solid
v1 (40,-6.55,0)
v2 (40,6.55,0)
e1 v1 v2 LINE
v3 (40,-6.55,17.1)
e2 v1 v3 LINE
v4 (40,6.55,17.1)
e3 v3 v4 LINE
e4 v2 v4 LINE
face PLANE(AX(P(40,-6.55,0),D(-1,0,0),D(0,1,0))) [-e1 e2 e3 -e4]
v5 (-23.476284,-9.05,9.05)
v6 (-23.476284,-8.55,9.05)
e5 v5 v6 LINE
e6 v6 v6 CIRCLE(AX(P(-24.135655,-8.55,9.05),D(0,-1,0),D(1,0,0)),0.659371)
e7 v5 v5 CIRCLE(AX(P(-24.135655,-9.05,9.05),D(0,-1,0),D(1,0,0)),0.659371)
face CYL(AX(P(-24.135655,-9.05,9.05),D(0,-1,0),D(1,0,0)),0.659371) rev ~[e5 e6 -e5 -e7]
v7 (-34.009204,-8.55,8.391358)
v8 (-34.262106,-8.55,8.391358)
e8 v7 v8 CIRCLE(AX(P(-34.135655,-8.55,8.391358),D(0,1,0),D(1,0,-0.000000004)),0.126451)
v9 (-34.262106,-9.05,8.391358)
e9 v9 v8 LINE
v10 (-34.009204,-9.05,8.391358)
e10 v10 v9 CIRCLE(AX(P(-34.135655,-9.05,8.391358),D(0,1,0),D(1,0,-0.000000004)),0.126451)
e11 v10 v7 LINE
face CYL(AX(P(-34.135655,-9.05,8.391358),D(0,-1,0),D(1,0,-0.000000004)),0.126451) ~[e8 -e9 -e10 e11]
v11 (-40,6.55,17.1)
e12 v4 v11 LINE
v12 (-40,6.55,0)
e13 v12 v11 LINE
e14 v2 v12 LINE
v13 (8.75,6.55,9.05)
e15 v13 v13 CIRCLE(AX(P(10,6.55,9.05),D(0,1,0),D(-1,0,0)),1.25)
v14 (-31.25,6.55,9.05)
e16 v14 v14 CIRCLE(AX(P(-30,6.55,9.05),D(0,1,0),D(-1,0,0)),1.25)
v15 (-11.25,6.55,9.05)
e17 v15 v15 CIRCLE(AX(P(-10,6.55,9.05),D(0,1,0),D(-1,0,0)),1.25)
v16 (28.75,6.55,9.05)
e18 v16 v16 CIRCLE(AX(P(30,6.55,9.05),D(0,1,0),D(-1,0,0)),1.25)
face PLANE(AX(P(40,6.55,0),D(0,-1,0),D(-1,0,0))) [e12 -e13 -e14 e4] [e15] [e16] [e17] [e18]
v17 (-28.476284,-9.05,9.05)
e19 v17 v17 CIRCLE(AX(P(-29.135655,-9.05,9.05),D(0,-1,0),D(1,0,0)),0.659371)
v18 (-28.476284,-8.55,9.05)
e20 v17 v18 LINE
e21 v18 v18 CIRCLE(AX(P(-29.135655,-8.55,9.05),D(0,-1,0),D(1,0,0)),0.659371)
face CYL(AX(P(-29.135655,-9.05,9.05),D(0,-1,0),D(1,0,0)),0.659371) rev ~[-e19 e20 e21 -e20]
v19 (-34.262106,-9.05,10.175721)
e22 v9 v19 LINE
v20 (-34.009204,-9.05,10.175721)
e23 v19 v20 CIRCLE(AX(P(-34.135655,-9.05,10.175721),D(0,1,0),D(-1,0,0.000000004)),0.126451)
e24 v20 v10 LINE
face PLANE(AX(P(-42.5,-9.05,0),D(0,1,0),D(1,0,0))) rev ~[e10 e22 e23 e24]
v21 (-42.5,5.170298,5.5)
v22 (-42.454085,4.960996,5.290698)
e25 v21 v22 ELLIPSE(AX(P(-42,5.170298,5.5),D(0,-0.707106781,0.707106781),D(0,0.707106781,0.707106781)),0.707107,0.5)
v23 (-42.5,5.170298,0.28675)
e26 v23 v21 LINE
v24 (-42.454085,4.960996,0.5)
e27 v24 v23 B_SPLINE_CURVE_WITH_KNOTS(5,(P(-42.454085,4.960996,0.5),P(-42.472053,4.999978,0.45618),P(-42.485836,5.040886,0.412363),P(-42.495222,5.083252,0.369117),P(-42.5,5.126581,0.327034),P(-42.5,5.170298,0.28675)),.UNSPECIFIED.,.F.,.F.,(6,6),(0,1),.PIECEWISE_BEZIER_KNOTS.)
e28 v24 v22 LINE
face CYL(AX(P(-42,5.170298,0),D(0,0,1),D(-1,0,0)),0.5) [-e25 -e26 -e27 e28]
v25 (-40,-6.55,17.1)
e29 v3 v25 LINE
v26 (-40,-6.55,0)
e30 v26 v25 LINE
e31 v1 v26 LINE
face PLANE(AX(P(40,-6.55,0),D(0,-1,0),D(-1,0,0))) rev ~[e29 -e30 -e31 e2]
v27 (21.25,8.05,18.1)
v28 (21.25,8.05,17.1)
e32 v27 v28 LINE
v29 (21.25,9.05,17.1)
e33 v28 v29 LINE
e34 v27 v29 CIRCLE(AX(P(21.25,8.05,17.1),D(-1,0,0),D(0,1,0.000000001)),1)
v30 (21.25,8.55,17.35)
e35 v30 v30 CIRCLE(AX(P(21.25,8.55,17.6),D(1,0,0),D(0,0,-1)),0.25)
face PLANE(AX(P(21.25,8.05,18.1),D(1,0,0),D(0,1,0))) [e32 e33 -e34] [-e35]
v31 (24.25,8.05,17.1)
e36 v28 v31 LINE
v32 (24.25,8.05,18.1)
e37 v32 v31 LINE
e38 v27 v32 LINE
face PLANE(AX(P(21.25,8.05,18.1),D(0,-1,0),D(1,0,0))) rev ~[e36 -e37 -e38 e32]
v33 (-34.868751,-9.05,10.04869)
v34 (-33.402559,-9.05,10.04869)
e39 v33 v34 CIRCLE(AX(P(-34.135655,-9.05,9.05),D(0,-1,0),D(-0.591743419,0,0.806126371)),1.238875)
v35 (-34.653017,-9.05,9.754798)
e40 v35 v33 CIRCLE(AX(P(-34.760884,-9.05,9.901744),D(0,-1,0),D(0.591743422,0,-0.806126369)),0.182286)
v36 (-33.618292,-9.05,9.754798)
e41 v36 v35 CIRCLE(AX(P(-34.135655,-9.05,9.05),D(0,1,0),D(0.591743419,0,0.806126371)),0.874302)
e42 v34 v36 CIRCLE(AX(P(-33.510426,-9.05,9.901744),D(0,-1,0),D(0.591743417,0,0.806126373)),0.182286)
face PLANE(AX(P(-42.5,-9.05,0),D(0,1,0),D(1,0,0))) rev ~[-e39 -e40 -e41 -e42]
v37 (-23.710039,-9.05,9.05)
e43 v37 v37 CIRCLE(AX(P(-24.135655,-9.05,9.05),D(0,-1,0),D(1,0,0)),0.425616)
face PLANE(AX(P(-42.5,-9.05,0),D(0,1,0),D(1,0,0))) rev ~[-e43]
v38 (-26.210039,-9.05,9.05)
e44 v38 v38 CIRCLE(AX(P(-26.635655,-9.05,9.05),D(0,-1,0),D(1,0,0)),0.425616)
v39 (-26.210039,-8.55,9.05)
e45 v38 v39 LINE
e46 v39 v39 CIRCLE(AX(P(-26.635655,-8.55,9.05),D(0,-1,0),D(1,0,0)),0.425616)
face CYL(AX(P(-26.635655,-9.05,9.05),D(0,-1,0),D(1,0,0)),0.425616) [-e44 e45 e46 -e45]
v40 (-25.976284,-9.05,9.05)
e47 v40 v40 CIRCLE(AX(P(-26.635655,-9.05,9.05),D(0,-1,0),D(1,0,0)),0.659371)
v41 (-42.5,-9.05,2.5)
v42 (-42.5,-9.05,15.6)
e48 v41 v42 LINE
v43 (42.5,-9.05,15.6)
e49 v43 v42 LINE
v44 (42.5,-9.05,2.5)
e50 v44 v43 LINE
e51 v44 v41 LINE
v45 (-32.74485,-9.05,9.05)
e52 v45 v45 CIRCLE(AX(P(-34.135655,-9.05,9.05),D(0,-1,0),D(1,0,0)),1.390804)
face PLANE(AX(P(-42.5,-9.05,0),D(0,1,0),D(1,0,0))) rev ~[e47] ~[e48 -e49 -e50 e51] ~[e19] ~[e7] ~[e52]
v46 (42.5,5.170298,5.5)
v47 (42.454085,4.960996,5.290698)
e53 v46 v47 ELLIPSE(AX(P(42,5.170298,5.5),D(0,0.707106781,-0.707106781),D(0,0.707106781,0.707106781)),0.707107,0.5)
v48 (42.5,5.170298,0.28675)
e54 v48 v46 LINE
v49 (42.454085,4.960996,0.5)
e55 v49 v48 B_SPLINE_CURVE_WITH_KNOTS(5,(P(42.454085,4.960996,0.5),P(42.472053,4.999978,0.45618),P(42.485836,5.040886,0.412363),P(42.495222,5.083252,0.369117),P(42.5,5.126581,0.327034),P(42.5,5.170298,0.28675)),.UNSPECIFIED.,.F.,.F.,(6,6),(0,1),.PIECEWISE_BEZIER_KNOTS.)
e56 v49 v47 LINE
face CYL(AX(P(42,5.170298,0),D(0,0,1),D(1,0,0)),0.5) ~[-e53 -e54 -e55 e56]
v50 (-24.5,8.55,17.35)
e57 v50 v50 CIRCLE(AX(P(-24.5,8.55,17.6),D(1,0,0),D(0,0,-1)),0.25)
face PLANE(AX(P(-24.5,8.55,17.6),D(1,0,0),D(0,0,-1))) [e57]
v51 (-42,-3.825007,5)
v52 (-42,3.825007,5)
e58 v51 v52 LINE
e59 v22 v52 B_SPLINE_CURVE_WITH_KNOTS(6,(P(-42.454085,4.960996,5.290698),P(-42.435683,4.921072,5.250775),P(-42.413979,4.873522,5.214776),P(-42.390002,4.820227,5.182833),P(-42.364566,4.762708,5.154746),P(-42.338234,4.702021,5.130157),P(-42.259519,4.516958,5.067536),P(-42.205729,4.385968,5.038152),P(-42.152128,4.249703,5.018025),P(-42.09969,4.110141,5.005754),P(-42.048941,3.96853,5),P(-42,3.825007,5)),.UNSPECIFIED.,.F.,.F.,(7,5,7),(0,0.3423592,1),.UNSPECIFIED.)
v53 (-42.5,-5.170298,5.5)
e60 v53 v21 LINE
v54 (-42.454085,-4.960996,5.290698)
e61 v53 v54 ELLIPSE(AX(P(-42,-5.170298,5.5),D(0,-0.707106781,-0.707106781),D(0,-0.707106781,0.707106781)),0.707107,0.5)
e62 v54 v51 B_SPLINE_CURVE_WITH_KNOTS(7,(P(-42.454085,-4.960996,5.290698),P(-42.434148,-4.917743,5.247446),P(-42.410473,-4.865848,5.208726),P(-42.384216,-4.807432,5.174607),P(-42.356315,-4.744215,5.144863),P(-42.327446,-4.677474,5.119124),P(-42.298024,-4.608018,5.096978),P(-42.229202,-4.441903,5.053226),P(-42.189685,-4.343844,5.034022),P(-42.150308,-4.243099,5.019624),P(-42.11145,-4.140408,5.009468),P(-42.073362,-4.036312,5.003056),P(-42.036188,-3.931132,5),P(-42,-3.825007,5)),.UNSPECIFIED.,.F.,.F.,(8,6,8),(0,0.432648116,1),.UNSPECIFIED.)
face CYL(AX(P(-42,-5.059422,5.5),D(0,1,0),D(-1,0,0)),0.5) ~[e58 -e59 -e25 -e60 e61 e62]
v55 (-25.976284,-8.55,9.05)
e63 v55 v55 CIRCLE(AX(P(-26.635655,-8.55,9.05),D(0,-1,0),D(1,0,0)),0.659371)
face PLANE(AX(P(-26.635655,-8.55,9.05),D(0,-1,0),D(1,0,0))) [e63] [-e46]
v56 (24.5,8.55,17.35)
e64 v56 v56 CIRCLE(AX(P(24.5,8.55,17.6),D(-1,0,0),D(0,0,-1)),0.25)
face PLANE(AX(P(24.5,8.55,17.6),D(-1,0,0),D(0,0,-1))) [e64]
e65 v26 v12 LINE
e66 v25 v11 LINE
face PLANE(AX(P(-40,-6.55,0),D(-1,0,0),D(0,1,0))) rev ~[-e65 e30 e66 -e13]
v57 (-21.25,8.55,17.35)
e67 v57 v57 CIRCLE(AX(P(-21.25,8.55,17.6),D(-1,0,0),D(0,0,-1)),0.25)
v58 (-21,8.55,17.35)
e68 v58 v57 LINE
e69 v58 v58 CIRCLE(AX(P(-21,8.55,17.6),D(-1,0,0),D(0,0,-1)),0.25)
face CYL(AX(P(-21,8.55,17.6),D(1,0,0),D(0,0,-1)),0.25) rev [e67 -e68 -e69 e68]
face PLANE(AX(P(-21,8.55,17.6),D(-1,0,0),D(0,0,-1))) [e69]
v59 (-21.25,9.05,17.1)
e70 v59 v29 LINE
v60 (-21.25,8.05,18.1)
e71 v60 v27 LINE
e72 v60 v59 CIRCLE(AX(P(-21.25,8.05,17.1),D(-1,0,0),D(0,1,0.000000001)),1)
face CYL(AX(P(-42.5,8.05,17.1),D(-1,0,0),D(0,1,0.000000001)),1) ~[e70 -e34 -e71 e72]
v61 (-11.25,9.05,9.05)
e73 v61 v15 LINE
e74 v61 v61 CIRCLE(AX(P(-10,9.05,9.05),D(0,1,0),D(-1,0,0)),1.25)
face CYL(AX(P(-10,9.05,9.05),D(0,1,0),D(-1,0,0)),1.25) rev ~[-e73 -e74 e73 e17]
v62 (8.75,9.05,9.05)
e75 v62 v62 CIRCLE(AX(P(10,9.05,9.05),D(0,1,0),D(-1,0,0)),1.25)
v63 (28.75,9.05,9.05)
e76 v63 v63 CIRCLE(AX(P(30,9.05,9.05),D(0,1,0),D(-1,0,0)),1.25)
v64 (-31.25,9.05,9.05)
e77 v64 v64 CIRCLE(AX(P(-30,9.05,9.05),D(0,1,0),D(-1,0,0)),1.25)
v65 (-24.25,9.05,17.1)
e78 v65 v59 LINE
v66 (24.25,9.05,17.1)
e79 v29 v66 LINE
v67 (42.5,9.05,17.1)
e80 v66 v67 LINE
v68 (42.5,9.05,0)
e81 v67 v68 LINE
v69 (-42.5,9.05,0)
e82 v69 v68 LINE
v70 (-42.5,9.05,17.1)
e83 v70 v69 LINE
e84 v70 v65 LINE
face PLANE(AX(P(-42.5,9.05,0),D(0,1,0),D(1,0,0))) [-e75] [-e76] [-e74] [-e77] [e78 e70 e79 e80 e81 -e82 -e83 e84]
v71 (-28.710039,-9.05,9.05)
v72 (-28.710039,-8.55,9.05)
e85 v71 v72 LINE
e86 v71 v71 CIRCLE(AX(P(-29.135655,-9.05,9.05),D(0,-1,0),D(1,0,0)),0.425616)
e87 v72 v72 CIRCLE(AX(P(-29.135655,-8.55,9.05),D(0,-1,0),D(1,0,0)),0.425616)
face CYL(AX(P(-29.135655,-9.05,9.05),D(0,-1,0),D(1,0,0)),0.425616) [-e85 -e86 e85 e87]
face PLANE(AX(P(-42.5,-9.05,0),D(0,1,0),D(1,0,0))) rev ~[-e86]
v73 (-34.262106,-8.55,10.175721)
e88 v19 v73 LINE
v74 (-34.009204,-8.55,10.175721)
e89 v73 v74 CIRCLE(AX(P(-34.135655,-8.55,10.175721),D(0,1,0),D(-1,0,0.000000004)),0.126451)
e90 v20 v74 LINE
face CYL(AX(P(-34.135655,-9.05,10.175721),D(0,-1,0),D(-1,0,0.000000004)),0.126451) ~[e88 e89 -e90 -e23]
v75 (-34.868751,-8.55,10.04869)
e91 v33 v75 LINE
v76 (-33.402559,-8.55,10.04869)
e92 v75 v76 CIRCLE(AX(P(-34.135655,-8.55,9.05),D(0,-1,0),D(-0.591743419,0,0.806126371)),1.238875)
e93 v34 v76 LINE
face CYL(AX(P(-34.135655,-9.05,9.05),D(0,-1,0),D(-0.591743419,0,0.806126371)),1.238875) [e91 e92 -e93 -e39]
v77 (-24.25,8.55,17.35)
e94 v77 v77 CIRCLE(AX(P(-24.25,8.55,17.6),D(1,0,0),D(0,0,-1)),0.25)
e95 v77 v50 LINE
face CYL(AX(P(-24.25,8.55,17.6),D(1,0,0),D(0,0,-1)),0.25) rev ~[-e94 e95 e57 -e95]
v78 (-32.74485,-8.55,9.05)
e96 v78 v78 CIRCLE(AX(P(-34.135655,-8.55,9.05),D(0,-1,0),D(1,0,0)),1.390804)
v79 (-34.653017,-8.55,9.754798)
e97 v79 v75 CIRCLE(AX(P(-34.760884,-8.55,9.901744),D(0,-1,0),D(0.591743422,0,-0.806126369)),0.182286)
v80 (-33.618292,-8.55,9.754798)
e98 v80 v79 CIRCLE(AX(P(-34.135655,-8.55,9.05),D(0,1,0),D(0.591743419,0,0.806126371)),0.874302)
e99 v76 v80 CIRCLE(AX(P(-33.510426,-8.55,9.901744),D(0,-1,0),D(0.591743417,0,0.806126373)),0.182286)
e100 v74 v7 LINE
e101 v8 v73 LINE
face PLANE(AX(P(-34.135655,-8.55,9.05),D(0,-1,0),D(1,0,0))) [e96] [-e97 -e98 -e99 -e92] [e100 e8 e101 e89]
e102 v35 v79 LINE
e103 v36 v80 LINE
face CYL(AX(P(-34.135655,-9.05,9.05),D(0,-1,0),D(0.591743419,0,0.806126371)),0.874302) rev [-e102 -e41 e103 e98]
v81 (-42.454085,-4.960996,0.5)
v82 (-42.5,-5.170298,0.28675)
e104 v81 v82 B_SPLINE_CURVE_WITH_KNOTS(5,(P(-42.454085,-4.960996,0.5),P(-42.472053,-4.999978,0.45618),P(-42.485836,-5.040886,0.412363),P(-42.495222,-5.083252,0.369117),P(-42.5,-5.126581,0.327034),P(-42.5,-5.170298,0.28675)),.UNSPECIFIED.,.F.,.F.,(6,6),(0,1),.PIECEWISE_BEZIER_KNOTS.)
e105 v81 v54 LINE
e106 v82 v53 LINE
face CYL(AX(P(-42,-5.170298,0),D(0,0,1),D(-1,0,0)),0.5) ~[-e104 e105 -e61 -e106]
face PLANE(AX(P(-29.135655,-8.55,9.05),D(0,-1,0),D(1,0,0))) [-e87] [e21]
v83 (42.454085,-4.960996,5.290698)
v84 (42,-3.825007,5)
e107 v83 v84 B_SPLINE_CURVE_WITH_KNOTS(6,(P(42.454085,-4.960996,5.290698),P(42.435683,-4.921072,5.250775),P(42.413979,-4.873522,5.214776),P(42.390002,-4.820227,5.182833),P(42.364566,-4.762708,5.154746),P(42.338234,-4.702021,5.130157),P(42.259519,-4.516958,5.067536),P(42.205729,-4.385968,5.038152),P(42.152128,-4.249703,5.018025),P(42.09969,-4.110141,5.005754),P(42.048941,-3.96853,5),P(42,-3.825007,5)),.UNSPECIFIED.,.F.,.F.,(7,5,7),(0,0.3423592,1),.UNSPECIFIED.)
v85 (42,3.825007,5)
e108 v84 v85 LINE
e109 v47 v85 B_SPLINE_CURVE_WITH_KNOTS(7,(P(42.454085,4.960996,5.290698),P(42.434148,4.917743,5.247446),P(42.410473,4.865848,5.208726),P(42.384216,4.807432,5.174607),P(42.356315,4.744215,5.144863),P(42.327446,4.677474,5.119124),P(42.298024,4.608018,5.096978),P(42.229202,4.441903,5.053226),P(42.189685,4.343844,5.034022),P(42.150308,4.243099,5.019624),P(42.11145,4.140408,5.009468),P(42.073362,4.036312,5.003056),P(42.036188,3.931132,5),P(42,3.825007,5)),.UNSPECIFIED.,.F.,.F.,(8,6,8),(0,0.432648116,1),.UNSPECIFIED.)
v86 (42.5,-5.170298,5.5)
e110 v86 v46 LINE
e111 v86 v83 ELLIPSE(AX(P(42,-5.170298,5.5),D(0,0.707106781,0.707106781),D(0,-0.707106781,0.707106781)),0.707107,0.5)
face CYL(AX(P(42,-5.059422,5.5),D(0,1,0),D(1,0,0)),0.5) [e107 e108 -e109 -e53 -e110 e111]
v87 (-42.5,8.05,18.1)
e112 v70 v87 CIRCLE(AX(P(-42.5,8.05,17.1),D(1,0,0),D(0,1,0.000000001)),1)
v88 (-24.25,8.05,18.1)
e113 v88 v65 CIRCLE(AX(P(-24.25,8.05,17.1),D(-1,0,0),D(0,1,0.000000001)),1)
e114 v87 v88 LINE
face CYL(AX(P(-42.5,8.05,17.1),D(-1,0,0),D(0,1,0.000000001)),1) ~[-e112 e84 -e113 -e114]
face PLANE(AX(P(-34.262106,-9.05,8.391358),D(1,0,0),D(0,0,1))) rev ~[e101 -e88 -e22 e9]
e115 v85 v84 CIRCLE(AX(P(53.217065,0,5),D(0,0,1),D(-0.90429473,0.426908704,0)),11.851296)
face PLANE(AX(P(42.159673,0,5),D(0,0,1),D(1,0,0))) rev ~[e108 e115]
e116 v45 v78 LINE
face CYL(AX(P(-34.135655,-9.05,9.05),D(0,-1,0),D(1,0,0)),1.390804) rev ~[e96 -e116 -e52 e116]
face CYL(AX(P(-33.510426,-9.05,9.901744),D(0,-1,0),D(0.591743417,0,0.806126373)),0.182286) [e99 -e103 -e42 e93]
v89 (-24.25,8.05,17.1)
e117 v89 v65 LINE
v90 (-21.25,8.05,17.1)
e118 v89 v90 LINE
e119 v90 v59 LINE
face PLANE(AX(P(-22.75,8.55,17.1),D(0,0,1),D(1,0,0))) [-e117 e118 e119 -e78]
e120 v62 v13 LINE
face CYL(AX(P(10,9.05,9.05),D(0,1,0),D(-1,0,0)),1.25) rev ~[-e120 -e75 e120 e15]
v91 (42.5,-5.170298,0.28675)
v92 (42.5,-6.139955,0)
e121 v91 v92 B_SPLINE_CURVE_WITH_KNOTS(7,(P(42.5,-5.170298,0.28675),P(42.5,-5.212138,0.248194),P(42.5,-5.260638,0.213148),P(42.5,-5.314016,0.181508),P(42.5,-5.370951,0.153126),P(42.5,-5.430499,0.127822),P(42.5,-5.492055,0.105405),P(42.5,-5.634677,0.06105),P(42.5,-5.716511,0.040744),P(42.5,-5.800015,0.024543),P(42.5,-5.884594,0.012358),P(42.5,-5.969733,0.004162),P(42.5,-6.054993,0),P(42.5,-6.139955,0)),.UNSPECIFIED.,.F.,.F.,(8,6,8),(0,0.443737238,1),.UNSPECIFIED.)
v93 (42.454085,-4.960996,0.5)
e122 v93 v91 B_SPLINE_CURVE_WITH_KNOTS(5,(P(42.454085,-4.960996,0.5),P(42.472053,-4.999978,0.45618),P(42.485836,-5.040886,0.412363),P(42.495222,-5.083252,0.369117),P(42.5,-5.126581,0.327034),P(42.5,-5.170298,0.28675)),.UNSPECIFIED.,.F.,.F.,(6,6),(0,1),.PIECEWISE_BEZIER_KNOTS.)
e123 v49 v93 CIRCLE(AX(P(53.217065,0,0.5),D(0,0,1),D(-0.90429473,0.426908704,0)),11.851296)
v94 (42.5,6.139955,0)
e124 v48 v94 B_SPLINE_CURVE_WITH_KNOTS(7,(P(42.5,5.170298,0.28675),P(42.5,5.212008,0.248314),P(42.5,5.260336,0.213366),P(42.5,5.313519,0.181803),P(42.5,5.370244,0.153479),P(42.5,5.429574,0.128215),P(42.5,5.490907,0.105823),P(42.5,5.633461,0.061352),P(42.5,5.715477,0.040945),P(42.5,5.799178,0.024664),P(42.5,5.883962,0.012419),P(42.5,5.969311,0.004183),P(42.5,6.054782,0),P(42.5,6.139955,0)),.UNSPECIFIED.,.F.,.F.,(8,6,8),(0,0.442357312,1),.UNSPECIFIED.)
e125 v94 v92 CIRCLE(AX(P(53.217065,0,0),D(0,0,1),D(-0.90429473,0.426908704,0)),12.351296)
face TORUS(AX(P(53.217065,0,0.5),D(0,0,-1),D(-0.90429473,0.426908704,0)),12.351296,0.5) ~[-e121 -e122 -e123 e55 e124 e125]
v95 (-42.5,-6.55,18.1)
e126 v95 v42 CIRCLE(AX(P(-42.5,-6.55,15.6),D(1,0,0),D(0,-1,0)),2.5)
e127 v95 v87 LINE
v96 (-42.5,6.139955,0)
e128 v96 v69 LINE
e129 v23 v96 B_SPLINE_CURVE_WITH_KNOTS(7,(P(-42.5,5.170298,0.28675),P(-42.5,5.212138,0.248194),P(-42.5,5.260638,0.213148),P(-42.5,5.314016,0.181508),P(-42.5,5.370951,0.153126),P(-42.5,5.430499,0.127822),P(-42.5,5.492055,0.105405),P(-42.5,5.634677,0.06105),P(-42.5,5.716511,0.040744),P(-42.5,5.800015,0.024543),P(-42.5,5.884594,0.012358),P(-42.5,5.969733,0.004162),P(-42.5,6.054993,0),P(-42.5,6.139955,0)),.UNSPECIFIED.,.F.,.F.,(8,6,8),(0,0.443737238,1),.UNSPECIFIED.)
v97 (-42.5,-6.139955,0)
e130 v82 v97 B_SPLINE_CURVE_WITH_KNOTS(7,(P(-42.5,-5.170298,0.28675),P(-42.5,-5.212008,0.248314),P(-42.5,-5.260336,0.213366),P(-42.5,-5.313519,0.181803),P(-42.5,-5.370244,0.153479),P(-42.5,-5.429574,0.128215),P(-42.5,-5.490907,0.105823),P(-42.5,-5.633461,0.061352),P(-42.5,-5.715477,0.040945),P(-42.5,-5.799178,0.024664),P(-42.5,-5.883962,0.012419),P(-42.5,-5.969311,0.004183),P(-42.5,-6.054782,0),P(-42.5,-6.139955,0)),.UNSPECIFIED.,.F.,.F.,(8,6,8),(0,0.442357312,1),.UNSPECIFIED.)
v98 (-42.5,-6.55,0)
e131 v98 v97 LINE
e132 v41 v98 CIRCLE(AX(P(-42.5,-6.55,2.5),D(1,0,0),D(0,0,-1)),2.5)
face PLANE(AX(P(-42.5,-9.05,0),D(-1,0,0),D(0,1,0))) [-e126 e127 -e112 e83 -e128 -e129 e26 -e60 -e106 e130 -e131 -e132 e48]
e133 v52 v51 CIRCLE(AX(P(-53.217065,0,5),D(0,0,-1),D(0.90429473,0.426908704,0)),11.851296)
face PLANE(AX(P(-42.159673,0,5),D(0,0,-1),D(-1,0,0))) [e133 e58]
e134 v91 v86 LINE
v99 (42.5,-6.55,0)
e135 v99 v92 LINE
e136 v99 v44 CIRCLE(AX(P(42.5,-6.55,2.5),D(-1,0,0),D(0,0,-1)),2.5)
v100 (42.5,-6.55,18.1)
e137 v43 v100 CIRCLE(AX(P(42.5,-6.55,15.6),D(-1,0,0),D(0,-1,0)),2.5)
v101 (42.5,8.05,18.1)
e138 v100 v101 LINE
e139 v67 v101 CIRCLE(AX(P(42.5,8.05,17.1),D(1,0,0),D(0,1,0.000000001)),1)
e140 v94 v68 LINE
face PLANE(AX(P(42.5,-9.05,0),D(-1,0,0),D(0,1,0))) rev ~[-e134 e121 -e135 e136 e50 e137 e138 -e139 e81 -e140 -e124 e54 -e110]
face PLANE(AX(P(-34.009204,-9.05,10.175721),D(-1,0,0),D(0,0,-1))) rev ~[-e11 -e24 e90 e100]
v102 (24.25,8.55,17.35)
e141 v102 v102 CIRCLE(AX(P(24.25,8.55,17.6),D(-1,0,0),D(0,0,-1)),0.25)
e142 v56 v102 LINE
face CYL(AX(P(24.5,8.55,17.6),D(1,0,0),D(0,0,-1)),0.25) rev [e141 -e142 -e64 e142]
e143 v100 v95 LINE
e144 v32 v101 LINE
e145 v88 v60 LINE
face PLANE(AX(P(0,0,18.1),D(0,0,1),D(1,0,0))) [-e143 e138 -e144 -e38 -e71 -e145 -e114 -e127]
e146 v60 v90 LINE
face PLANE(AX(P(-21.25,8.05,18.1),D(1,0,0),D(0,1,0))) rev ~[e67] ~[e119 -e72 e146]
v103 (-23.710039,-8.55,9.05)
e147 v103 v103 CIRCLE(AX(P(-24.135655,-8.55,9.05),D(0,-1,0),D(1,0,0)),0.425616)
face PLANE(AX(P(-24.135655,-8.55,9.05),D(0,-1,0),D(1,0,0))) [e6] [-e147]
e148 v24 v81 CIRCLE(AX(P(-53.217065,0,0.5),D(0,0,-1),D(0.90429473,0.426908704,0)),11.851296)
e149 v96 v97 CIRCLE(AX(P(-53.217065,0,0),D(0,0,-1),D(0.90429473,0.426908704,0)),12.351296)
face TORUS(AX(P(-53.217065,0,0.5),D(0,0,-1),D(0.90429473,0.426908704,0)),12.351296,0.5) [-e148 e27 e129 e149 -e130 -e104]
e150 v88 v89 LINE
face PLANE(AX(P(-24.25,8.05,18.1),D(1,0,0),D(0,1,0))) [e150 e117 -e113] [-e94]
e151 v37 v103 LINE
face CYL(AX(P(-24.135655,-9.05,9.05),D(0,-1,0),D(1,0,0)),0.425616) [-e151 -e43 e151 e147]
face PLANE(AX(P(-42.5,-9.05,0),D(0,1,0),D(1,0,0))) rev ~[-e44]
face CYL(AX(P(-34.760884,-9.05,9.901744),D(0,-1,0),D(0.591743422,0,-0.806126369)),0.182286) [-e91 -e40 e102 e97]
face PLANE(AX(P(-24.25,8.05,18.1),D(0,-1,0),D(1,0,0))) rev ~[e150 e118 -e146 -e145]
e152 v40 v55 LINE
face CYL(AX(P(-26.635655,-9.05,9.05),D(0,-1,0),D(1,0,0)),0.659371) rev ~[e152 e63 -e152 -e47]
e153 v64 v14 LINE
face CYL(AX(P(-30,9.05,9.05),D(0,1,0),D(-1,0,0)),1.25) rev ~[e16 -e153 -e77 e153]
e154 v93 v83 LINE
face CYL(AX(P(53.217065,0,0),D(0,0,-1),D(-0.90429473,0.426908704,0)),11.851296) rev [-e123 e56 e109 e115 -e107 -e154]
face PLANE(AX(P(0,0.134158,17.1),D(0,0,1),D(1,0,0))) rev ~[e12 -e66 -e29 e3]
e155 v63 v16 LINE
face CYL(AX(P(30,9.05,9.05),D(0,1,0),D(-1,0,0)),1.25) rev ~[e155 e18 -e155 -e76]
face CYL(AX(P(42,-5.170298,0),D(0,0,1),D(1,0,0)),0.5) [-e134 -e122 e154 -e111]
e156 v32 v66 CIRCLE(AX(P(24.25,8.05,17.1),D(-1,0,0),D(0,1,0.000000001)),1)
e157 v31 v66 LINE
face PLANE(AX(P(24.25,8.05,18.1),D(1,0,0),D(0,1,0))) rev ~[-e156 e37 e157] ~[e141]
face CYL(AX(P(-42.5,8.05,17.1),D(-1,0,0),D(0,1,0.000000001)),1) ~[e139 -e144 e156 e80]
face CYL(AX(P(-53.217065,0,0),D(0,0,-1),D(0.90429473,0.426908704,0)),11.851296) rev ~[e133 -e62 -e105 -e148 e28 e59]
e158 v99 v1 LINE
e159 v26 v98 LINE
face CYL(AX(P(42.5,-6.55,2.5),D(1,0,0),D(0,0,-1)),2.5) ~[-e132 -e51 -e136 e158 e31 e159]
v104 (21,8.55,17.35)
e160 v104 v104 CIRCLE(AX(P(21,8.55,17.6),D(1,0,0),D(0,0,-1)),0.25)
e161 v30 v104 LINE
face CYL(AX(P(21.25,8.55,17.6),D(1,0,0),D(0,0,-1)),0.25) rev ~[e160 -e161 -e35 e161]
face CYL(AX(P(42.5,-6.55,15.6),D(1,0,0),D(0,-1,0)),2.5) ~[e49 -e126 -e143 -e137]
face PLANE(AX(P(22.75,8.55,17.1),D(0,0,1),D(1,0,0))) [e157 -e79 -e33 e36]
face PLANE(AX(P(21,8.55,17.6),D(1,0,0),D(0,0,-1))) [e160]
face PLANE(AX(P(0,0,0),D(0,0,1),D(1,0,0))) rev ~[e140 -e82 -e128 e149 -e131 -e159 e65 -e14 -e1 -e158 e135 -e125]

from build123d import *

# Parameters (mm, degrees)
SKETCH1_W           = 85
SKETCH1_H           = 18.1
BOSS_EXTRUDE1_DEPTH = 18.1
SKETCH2_W           = 80
SKETCH2_H           = 13.1
CUT_EXTRUDE1_DEPTH  = 17.5
SKETCH3_R           = 1.25
CUT_EXTRUDE2_DEPTH  = 2.5
SKETCH4_W           = 3
SKETCH4_H           = 1
CUT_EXTRUDE4_DEPTH  = 1
BOSS_EXTRUDE3_DEPTH = 1
SKETCH5_R           = 0.25
CUT_EXTRUDE5_DEPTH  = 0.25
CUT_EXTRUDE6_START  = -0.25
SKETCH6_R           = 0.25
CUT_EXTRUDE6_DEPTH  = 0.25
CUT_EXTRUDE7_START  = -0.25
SKETCH7_R           = 0.25
CUT_EXTRUDE7_DEPTH  = 0.25
SKETCH8_R           = 0.25
CUT_EXTRUDE8_DEPTH  = 0.25
CUT_EXTRUDE9_REACH  = 89.376
SKETCH13_R          = 1.390804474
SKETCH13_R_2        = 0.659370612
SKETCH13_R_3        = 0.42561601
CUT_EXTRUDE10_DEPTH = 0.5
CUT_EXTRUDE11_DEPTH = 5
FILLET1_R           = 0.5
CUT_EXTRUDE12_START = -85
CUT_EXTRUDE12_DEPTH = 85


with BuildPart() as part:
    # Sketch1 → Boss-Extrude1 (new body)
    with BuildSketch(Plane.XY):
        Rectangle(SKETCH1_W, SKETCH1_H)
    extrude(amount=BOSS_EXTRUDE1_DEPTH)

    # Sketch2 → Cut-Extrude1 (cut)
    with BuildSketch(Plane(origin=(0, 0, 0), x_dir=(-1, 0, 0), z_dir=(0, 0, -1))):
        Rectangle(SKETCH2_W, SKETCH2_H)
    extrude(amount=-CUT_EXTRUDE1_DEPTH, mode=Mode.SUBTRACT)

    # Sketch3 → Cut-Extrude2 (cut)
    with BuildSketch(Plane(origin=(0, 9.05, 0), x_dir=(1, 0, 0), z_dir=(0, 1, 0))):
        with Locations(Location((-30, -9.05, 0), (0, 0, 180))):
            Circle(SKETCH3_R)
        with Locations(Location((-10, -9.05, 0), (0, 0, 180))):
            Circle(SKETCH3_R)
        with Locations(Location((10, -9.05, 0), (0, 0, 180))):
            Circle(SKETCH3_R)
        with Locations(Location((30, -9.05, 0), (0, 0, 180))):
            Circle(SKETCH3_R)
    extrude(amount=-CUT_EXTRUDE2_DEPTH, mode=Mode.SUBTRACT)

    # Sketch4 → Cut-Extrude4 (cut)
    with BuildSketch(Plane.XY.offset(18.1)):
        with Locations((-22.75, 8.55)):
            Rectangle(SKETCH4_W, SKETCH4_H)
        with Locations((22.75, 8.55)):
            Rectangle(SKETCH4_W, SKETCH4_H)
    extrude(amount=-CUT_EXTRUDE4_DEPTH, mode=Mode.SUBTRACT)

    # Sketch11 → Boss-Extrude3 (add)
    with BuildSketch(Plane.XY.offset(18.1)):
        Polygon((-24.25, 8.05), (-24.25, 9.05), (-42.5, 9.05), (-42.5, -9.05), (42.5, -9.05), (42.5, 9.05), (24.25, 9.05), (24.25, 8.05), (21.25, 8.05), (21.25, 9.05), (-21.25, 9.05), (-21.25, 8.05), align=None)
    extrude(amount=-BOSS_EXTRUDE3_DEPTH)

    # Sketch5 → Cut-Extrude5 (cut)
    with BuildSketch(Plane(origin=(-24.25, 0, 0), x_dir=(0, 0, -1), z_dir=(1, 0, 0))):
        with Locations((-17.6, 8.55)):
            Circle(SKETCH5_R)
    extrude(amount=-CUT_EXTRUDE5_DEPTH, mode=Mode.SUBTRACT)

    # Sketch6 → Cut-Extrude6 (cut)
    with BuildSketch(Plane.ZY.offset(21.25).offset(CUT_EXTRUDE6_START)):
        with Locations(Location((17.6, 8.55, 0), (0, 0, 180))):
            Circle(SKETCH6_R)
    extrude(amount=CUT_EXTRUDE6_DEPTH, mode=Mode.SUBTRACT)

    # Sketch7 → Cut-Extrude7 (cut)
    with BuildSketch(Plane.ZY.offset(-24.25).offset(CUT_EXTRUDE7_START)):
        with Locations(Location((17.6, 8.55, 0), (0, 0, 180))):
            Circle(SKETCH7_R)
    extrude(amount=CUT_EXTRUDE7_DEPTH, mode=Mode.SUBTRACT)

    # Sketch8 → Cut-Extrude8 (cut)
    with BuildSketch(Plane(origin=(21.25, 0, 0), x_dir=(0, 0, -1), z_dir=(1, 0, 0))):
        with Locations((-17.6, 8.55)):
            Circle(SKETCH8_R)
    extrude(amount=-CUT_EXTRUDE8_DEPTH, mode=Mode.SUBTRACT)

    # Cut-Extrude9: up to this face of the body (flat: up to its plane)
    cut_extrude9_end = Plane(part.part.faces().sort_by_distance((-42.5, 0, 9.05))[0])
    # Sketch12 → Cut-Extrude9 (cut, up to the picked face)
    with BuildSketch(Plane(origin=(42.5, 0, 0), x_dir=(0, 0, -1), z_dir=(1, 0, 0)), mode=Mode.PRIVATE) as cut_extrude9_sk1:
        with BuildLine():
            Line((-18.1, -6.55), (-18.1, -9.05))
            Line((-18.1, -9.05), (-15.6, -9.05))
            ThreePointArc((-15.6, -9.05), (-17.367766953, -8.317766953), (-18.1, -6.55))
        make_face()
    cut_extrude9_tool1 = split(extrude(cut_extrude9_sk1.sketch, amount=-CUT_EXTRUDE9_REACH, mode=Mode.PRIVATE), bisect_by=cut_extrude9_end, keep=Keep.BOTH, mode=Mode.PRIVATE)
    # Sketch12 → Cut-Extrude9 (cut, up to the picked face)
    with BuildSketch(Plane(origin=(42.5, 0, 0), x_dir=(0, 0, -1), z_dir=(1, 0, 0)), mode=Mode.PRIVATE) as cut_extrude9_sk2:
        with BuildLine():
            Line((-2.5, -9.05), (0, -9.05))
            Line((0, -9.05), (0, -6.55))
            ThreePointArc((0, -6.55), (-0.732233047, -8.317766953), (-2.5, -9.05))
        make_face()
    cut_extrude9_tool2 = split(extrude(cut_extrude9_sk2.sketch, amount=-CUT_EXTRUDE9_REACH, mode=Mode.PRIVATE), bisect_by=cut_extrude9_end, keep=Keep.BOTH, mode=Mode.PRIVATE)
    add(cut_extrude9_tool1.solids().sort_by(Axis((42.5, -8.49158, 17.54158), (-1, 0, 0)))[0], mode=Mode.SUBTRACT)
    add(cut_extrude9_tool2.solids().sort_by(Axis((42.5, -8.49158, 0.55842), (-1, 0, 0)))[0], mode=Mode.SUBTRACT)

    # Sketch13 → Cut-Extrude10 (cut)
    # profile 1 of 4: a face of its own
    with BuildSketch(Plane.XZ.offset(9.05)):
        with Locations((-34.135654856, 9.05)):
            Circle(SKETCH13_R)
        with BuildLine():
            Line((-34.009203979, 10.17572082), (-34.009203979, 8.391358435))
            ThreePointArc((-34.009203979, 8.391358435), (-34.135654856, 8.264907558), (-34.262105734, 8.391358435))
            Line((-34.262105734, 8.391358435), (-34.262105734, 10.17572082))
            ThreePointArc((-34.262105734, 10.17572082), (-34.135654856, 10.302171697), (-34.009203979, 10.17572082))
        make_face(mode=Mode.SUBTRACT)
        with BuildLine():
            ThreePointArc((-34.868750994, 10.048689821), (-34.135654856, 7.811124984), (-33.402558718, 10.048689821))
            ThreePointArc((-33.402558718, 10.048689821), (-33.657371419, 10.009610716), (-33.618292315, 9.754798016))
            ThreePointArc((-33.618292315, 9.754798016), (-34.135654856, 8.175697855), (-34.653017397, 9.754798016))
            ThreePointArc((-34.653017397, 9.754798016), (-34.613938293, 10.009610716), (-34.868750994, 10.048689821))
        make_face(mode=Mode.SUBTRACT)
    # profile 2 of 4: a face of its own
    with BuildSketch(Plane.XZ.offset(9.05)):
        with Locations((-29.135654856, 9.05)):
            Circle(SKETCH13_R_2)
        with Locations((-29.135654856, 9.05)):
            Circle(SKETCH13_R_3, mode=Mode.SUBTRACT)
    # profile 3 of 4: a face of its own
    with BuildSketch(Plane.XZ.offset(9.05)):
        with Locations((-26.635654856, 9.05)):
            Circle(SKETCH13_R_2)
        with Locations((-26.635654856, 9.05)):
            Circle(SKETCH13_R_3, mode=Mode.SUBTRACT)
    # profile 4 of 4: a face of its own
    with BuildSketch(Plane.XZ.offset(9.05)):
        with Locations((-24.135654856, 9.05)):
            Circle(SKETCH13_R_2)
        with Locations((-24.135654856, 9.05)):
            Circle(SKETCH13_R_3, mode=Mode.SUBTRACT)
    extrude(amount=-CUT_EXTRUDE10_DEPTH, mode=Mode.SUBTRACT)

    # Sketch16 → Cut-Extrude11 (cut)
    with BuildSketch(Plane(origin=(0, 0, 0), x_dir=(-1, 0, 0), z_dir=(0, 0, -1))):
        with BuildLine():
            Line((-42.5, -5.059421515), (-42.5, 5.059421515))
            ThreePointArc((-42.5, 5.059421515), (-41.365768493, 0), (-42.5, -5.059421515))
        make_face()
        with BuildLine():
            Line((42.5, -5.059421515), (42.5, 5.059421515))
            ThreePointArc((42.5, 5.059421515), (41.365768493, 0), (42.5, -5.059421515))
        make_face()
    extrude(amount=-CUT_EXTRUDE11_DEPTH, mode=Mode.SUBTRACT)

    # Fillet1
    fillet1_edges = [part.edges().sort_by_distance(p)[0] for p in [
        (-42.5, -5.059421515, 2.5),
        (-42.5, 0, 5),
        (-42.5, 5.059421515, 2.5),
        (-41.365768493, 0, 0),
        (42.5, 5.059421515, 2.5),
        (42.5, 0, 5),
        (42.5, -5.059421515, 2.5),
        (41.365768493, 0, 0),
    ]]
    fillet(fillet1_edges, radius=FILLET1_R)

    # Sketch17 → Cut-Extrude12 (cut)
    with BuildSketch(Plane(origin=(42.5, 0, 0), x_dir=(0, 0, -1), z_dir=(1, 0, 0)).offset(CUT_EXTRUDE12_START)):
        with BuildLine():
            Line((-18.1, 8.05), (-18.1, 9.05))
            Line((-18.1, 9.05), (-17.1, 9.05))
            ThreePointArc((-17.1, 9.05), (-17.807106781, 8.757106781), (-18.1, 8.05))
        make_face()
    extrude(amount=CUT_EXTRUDE12_DEPTH, mode=Mode.SUBTRACT)


solid = part.part
